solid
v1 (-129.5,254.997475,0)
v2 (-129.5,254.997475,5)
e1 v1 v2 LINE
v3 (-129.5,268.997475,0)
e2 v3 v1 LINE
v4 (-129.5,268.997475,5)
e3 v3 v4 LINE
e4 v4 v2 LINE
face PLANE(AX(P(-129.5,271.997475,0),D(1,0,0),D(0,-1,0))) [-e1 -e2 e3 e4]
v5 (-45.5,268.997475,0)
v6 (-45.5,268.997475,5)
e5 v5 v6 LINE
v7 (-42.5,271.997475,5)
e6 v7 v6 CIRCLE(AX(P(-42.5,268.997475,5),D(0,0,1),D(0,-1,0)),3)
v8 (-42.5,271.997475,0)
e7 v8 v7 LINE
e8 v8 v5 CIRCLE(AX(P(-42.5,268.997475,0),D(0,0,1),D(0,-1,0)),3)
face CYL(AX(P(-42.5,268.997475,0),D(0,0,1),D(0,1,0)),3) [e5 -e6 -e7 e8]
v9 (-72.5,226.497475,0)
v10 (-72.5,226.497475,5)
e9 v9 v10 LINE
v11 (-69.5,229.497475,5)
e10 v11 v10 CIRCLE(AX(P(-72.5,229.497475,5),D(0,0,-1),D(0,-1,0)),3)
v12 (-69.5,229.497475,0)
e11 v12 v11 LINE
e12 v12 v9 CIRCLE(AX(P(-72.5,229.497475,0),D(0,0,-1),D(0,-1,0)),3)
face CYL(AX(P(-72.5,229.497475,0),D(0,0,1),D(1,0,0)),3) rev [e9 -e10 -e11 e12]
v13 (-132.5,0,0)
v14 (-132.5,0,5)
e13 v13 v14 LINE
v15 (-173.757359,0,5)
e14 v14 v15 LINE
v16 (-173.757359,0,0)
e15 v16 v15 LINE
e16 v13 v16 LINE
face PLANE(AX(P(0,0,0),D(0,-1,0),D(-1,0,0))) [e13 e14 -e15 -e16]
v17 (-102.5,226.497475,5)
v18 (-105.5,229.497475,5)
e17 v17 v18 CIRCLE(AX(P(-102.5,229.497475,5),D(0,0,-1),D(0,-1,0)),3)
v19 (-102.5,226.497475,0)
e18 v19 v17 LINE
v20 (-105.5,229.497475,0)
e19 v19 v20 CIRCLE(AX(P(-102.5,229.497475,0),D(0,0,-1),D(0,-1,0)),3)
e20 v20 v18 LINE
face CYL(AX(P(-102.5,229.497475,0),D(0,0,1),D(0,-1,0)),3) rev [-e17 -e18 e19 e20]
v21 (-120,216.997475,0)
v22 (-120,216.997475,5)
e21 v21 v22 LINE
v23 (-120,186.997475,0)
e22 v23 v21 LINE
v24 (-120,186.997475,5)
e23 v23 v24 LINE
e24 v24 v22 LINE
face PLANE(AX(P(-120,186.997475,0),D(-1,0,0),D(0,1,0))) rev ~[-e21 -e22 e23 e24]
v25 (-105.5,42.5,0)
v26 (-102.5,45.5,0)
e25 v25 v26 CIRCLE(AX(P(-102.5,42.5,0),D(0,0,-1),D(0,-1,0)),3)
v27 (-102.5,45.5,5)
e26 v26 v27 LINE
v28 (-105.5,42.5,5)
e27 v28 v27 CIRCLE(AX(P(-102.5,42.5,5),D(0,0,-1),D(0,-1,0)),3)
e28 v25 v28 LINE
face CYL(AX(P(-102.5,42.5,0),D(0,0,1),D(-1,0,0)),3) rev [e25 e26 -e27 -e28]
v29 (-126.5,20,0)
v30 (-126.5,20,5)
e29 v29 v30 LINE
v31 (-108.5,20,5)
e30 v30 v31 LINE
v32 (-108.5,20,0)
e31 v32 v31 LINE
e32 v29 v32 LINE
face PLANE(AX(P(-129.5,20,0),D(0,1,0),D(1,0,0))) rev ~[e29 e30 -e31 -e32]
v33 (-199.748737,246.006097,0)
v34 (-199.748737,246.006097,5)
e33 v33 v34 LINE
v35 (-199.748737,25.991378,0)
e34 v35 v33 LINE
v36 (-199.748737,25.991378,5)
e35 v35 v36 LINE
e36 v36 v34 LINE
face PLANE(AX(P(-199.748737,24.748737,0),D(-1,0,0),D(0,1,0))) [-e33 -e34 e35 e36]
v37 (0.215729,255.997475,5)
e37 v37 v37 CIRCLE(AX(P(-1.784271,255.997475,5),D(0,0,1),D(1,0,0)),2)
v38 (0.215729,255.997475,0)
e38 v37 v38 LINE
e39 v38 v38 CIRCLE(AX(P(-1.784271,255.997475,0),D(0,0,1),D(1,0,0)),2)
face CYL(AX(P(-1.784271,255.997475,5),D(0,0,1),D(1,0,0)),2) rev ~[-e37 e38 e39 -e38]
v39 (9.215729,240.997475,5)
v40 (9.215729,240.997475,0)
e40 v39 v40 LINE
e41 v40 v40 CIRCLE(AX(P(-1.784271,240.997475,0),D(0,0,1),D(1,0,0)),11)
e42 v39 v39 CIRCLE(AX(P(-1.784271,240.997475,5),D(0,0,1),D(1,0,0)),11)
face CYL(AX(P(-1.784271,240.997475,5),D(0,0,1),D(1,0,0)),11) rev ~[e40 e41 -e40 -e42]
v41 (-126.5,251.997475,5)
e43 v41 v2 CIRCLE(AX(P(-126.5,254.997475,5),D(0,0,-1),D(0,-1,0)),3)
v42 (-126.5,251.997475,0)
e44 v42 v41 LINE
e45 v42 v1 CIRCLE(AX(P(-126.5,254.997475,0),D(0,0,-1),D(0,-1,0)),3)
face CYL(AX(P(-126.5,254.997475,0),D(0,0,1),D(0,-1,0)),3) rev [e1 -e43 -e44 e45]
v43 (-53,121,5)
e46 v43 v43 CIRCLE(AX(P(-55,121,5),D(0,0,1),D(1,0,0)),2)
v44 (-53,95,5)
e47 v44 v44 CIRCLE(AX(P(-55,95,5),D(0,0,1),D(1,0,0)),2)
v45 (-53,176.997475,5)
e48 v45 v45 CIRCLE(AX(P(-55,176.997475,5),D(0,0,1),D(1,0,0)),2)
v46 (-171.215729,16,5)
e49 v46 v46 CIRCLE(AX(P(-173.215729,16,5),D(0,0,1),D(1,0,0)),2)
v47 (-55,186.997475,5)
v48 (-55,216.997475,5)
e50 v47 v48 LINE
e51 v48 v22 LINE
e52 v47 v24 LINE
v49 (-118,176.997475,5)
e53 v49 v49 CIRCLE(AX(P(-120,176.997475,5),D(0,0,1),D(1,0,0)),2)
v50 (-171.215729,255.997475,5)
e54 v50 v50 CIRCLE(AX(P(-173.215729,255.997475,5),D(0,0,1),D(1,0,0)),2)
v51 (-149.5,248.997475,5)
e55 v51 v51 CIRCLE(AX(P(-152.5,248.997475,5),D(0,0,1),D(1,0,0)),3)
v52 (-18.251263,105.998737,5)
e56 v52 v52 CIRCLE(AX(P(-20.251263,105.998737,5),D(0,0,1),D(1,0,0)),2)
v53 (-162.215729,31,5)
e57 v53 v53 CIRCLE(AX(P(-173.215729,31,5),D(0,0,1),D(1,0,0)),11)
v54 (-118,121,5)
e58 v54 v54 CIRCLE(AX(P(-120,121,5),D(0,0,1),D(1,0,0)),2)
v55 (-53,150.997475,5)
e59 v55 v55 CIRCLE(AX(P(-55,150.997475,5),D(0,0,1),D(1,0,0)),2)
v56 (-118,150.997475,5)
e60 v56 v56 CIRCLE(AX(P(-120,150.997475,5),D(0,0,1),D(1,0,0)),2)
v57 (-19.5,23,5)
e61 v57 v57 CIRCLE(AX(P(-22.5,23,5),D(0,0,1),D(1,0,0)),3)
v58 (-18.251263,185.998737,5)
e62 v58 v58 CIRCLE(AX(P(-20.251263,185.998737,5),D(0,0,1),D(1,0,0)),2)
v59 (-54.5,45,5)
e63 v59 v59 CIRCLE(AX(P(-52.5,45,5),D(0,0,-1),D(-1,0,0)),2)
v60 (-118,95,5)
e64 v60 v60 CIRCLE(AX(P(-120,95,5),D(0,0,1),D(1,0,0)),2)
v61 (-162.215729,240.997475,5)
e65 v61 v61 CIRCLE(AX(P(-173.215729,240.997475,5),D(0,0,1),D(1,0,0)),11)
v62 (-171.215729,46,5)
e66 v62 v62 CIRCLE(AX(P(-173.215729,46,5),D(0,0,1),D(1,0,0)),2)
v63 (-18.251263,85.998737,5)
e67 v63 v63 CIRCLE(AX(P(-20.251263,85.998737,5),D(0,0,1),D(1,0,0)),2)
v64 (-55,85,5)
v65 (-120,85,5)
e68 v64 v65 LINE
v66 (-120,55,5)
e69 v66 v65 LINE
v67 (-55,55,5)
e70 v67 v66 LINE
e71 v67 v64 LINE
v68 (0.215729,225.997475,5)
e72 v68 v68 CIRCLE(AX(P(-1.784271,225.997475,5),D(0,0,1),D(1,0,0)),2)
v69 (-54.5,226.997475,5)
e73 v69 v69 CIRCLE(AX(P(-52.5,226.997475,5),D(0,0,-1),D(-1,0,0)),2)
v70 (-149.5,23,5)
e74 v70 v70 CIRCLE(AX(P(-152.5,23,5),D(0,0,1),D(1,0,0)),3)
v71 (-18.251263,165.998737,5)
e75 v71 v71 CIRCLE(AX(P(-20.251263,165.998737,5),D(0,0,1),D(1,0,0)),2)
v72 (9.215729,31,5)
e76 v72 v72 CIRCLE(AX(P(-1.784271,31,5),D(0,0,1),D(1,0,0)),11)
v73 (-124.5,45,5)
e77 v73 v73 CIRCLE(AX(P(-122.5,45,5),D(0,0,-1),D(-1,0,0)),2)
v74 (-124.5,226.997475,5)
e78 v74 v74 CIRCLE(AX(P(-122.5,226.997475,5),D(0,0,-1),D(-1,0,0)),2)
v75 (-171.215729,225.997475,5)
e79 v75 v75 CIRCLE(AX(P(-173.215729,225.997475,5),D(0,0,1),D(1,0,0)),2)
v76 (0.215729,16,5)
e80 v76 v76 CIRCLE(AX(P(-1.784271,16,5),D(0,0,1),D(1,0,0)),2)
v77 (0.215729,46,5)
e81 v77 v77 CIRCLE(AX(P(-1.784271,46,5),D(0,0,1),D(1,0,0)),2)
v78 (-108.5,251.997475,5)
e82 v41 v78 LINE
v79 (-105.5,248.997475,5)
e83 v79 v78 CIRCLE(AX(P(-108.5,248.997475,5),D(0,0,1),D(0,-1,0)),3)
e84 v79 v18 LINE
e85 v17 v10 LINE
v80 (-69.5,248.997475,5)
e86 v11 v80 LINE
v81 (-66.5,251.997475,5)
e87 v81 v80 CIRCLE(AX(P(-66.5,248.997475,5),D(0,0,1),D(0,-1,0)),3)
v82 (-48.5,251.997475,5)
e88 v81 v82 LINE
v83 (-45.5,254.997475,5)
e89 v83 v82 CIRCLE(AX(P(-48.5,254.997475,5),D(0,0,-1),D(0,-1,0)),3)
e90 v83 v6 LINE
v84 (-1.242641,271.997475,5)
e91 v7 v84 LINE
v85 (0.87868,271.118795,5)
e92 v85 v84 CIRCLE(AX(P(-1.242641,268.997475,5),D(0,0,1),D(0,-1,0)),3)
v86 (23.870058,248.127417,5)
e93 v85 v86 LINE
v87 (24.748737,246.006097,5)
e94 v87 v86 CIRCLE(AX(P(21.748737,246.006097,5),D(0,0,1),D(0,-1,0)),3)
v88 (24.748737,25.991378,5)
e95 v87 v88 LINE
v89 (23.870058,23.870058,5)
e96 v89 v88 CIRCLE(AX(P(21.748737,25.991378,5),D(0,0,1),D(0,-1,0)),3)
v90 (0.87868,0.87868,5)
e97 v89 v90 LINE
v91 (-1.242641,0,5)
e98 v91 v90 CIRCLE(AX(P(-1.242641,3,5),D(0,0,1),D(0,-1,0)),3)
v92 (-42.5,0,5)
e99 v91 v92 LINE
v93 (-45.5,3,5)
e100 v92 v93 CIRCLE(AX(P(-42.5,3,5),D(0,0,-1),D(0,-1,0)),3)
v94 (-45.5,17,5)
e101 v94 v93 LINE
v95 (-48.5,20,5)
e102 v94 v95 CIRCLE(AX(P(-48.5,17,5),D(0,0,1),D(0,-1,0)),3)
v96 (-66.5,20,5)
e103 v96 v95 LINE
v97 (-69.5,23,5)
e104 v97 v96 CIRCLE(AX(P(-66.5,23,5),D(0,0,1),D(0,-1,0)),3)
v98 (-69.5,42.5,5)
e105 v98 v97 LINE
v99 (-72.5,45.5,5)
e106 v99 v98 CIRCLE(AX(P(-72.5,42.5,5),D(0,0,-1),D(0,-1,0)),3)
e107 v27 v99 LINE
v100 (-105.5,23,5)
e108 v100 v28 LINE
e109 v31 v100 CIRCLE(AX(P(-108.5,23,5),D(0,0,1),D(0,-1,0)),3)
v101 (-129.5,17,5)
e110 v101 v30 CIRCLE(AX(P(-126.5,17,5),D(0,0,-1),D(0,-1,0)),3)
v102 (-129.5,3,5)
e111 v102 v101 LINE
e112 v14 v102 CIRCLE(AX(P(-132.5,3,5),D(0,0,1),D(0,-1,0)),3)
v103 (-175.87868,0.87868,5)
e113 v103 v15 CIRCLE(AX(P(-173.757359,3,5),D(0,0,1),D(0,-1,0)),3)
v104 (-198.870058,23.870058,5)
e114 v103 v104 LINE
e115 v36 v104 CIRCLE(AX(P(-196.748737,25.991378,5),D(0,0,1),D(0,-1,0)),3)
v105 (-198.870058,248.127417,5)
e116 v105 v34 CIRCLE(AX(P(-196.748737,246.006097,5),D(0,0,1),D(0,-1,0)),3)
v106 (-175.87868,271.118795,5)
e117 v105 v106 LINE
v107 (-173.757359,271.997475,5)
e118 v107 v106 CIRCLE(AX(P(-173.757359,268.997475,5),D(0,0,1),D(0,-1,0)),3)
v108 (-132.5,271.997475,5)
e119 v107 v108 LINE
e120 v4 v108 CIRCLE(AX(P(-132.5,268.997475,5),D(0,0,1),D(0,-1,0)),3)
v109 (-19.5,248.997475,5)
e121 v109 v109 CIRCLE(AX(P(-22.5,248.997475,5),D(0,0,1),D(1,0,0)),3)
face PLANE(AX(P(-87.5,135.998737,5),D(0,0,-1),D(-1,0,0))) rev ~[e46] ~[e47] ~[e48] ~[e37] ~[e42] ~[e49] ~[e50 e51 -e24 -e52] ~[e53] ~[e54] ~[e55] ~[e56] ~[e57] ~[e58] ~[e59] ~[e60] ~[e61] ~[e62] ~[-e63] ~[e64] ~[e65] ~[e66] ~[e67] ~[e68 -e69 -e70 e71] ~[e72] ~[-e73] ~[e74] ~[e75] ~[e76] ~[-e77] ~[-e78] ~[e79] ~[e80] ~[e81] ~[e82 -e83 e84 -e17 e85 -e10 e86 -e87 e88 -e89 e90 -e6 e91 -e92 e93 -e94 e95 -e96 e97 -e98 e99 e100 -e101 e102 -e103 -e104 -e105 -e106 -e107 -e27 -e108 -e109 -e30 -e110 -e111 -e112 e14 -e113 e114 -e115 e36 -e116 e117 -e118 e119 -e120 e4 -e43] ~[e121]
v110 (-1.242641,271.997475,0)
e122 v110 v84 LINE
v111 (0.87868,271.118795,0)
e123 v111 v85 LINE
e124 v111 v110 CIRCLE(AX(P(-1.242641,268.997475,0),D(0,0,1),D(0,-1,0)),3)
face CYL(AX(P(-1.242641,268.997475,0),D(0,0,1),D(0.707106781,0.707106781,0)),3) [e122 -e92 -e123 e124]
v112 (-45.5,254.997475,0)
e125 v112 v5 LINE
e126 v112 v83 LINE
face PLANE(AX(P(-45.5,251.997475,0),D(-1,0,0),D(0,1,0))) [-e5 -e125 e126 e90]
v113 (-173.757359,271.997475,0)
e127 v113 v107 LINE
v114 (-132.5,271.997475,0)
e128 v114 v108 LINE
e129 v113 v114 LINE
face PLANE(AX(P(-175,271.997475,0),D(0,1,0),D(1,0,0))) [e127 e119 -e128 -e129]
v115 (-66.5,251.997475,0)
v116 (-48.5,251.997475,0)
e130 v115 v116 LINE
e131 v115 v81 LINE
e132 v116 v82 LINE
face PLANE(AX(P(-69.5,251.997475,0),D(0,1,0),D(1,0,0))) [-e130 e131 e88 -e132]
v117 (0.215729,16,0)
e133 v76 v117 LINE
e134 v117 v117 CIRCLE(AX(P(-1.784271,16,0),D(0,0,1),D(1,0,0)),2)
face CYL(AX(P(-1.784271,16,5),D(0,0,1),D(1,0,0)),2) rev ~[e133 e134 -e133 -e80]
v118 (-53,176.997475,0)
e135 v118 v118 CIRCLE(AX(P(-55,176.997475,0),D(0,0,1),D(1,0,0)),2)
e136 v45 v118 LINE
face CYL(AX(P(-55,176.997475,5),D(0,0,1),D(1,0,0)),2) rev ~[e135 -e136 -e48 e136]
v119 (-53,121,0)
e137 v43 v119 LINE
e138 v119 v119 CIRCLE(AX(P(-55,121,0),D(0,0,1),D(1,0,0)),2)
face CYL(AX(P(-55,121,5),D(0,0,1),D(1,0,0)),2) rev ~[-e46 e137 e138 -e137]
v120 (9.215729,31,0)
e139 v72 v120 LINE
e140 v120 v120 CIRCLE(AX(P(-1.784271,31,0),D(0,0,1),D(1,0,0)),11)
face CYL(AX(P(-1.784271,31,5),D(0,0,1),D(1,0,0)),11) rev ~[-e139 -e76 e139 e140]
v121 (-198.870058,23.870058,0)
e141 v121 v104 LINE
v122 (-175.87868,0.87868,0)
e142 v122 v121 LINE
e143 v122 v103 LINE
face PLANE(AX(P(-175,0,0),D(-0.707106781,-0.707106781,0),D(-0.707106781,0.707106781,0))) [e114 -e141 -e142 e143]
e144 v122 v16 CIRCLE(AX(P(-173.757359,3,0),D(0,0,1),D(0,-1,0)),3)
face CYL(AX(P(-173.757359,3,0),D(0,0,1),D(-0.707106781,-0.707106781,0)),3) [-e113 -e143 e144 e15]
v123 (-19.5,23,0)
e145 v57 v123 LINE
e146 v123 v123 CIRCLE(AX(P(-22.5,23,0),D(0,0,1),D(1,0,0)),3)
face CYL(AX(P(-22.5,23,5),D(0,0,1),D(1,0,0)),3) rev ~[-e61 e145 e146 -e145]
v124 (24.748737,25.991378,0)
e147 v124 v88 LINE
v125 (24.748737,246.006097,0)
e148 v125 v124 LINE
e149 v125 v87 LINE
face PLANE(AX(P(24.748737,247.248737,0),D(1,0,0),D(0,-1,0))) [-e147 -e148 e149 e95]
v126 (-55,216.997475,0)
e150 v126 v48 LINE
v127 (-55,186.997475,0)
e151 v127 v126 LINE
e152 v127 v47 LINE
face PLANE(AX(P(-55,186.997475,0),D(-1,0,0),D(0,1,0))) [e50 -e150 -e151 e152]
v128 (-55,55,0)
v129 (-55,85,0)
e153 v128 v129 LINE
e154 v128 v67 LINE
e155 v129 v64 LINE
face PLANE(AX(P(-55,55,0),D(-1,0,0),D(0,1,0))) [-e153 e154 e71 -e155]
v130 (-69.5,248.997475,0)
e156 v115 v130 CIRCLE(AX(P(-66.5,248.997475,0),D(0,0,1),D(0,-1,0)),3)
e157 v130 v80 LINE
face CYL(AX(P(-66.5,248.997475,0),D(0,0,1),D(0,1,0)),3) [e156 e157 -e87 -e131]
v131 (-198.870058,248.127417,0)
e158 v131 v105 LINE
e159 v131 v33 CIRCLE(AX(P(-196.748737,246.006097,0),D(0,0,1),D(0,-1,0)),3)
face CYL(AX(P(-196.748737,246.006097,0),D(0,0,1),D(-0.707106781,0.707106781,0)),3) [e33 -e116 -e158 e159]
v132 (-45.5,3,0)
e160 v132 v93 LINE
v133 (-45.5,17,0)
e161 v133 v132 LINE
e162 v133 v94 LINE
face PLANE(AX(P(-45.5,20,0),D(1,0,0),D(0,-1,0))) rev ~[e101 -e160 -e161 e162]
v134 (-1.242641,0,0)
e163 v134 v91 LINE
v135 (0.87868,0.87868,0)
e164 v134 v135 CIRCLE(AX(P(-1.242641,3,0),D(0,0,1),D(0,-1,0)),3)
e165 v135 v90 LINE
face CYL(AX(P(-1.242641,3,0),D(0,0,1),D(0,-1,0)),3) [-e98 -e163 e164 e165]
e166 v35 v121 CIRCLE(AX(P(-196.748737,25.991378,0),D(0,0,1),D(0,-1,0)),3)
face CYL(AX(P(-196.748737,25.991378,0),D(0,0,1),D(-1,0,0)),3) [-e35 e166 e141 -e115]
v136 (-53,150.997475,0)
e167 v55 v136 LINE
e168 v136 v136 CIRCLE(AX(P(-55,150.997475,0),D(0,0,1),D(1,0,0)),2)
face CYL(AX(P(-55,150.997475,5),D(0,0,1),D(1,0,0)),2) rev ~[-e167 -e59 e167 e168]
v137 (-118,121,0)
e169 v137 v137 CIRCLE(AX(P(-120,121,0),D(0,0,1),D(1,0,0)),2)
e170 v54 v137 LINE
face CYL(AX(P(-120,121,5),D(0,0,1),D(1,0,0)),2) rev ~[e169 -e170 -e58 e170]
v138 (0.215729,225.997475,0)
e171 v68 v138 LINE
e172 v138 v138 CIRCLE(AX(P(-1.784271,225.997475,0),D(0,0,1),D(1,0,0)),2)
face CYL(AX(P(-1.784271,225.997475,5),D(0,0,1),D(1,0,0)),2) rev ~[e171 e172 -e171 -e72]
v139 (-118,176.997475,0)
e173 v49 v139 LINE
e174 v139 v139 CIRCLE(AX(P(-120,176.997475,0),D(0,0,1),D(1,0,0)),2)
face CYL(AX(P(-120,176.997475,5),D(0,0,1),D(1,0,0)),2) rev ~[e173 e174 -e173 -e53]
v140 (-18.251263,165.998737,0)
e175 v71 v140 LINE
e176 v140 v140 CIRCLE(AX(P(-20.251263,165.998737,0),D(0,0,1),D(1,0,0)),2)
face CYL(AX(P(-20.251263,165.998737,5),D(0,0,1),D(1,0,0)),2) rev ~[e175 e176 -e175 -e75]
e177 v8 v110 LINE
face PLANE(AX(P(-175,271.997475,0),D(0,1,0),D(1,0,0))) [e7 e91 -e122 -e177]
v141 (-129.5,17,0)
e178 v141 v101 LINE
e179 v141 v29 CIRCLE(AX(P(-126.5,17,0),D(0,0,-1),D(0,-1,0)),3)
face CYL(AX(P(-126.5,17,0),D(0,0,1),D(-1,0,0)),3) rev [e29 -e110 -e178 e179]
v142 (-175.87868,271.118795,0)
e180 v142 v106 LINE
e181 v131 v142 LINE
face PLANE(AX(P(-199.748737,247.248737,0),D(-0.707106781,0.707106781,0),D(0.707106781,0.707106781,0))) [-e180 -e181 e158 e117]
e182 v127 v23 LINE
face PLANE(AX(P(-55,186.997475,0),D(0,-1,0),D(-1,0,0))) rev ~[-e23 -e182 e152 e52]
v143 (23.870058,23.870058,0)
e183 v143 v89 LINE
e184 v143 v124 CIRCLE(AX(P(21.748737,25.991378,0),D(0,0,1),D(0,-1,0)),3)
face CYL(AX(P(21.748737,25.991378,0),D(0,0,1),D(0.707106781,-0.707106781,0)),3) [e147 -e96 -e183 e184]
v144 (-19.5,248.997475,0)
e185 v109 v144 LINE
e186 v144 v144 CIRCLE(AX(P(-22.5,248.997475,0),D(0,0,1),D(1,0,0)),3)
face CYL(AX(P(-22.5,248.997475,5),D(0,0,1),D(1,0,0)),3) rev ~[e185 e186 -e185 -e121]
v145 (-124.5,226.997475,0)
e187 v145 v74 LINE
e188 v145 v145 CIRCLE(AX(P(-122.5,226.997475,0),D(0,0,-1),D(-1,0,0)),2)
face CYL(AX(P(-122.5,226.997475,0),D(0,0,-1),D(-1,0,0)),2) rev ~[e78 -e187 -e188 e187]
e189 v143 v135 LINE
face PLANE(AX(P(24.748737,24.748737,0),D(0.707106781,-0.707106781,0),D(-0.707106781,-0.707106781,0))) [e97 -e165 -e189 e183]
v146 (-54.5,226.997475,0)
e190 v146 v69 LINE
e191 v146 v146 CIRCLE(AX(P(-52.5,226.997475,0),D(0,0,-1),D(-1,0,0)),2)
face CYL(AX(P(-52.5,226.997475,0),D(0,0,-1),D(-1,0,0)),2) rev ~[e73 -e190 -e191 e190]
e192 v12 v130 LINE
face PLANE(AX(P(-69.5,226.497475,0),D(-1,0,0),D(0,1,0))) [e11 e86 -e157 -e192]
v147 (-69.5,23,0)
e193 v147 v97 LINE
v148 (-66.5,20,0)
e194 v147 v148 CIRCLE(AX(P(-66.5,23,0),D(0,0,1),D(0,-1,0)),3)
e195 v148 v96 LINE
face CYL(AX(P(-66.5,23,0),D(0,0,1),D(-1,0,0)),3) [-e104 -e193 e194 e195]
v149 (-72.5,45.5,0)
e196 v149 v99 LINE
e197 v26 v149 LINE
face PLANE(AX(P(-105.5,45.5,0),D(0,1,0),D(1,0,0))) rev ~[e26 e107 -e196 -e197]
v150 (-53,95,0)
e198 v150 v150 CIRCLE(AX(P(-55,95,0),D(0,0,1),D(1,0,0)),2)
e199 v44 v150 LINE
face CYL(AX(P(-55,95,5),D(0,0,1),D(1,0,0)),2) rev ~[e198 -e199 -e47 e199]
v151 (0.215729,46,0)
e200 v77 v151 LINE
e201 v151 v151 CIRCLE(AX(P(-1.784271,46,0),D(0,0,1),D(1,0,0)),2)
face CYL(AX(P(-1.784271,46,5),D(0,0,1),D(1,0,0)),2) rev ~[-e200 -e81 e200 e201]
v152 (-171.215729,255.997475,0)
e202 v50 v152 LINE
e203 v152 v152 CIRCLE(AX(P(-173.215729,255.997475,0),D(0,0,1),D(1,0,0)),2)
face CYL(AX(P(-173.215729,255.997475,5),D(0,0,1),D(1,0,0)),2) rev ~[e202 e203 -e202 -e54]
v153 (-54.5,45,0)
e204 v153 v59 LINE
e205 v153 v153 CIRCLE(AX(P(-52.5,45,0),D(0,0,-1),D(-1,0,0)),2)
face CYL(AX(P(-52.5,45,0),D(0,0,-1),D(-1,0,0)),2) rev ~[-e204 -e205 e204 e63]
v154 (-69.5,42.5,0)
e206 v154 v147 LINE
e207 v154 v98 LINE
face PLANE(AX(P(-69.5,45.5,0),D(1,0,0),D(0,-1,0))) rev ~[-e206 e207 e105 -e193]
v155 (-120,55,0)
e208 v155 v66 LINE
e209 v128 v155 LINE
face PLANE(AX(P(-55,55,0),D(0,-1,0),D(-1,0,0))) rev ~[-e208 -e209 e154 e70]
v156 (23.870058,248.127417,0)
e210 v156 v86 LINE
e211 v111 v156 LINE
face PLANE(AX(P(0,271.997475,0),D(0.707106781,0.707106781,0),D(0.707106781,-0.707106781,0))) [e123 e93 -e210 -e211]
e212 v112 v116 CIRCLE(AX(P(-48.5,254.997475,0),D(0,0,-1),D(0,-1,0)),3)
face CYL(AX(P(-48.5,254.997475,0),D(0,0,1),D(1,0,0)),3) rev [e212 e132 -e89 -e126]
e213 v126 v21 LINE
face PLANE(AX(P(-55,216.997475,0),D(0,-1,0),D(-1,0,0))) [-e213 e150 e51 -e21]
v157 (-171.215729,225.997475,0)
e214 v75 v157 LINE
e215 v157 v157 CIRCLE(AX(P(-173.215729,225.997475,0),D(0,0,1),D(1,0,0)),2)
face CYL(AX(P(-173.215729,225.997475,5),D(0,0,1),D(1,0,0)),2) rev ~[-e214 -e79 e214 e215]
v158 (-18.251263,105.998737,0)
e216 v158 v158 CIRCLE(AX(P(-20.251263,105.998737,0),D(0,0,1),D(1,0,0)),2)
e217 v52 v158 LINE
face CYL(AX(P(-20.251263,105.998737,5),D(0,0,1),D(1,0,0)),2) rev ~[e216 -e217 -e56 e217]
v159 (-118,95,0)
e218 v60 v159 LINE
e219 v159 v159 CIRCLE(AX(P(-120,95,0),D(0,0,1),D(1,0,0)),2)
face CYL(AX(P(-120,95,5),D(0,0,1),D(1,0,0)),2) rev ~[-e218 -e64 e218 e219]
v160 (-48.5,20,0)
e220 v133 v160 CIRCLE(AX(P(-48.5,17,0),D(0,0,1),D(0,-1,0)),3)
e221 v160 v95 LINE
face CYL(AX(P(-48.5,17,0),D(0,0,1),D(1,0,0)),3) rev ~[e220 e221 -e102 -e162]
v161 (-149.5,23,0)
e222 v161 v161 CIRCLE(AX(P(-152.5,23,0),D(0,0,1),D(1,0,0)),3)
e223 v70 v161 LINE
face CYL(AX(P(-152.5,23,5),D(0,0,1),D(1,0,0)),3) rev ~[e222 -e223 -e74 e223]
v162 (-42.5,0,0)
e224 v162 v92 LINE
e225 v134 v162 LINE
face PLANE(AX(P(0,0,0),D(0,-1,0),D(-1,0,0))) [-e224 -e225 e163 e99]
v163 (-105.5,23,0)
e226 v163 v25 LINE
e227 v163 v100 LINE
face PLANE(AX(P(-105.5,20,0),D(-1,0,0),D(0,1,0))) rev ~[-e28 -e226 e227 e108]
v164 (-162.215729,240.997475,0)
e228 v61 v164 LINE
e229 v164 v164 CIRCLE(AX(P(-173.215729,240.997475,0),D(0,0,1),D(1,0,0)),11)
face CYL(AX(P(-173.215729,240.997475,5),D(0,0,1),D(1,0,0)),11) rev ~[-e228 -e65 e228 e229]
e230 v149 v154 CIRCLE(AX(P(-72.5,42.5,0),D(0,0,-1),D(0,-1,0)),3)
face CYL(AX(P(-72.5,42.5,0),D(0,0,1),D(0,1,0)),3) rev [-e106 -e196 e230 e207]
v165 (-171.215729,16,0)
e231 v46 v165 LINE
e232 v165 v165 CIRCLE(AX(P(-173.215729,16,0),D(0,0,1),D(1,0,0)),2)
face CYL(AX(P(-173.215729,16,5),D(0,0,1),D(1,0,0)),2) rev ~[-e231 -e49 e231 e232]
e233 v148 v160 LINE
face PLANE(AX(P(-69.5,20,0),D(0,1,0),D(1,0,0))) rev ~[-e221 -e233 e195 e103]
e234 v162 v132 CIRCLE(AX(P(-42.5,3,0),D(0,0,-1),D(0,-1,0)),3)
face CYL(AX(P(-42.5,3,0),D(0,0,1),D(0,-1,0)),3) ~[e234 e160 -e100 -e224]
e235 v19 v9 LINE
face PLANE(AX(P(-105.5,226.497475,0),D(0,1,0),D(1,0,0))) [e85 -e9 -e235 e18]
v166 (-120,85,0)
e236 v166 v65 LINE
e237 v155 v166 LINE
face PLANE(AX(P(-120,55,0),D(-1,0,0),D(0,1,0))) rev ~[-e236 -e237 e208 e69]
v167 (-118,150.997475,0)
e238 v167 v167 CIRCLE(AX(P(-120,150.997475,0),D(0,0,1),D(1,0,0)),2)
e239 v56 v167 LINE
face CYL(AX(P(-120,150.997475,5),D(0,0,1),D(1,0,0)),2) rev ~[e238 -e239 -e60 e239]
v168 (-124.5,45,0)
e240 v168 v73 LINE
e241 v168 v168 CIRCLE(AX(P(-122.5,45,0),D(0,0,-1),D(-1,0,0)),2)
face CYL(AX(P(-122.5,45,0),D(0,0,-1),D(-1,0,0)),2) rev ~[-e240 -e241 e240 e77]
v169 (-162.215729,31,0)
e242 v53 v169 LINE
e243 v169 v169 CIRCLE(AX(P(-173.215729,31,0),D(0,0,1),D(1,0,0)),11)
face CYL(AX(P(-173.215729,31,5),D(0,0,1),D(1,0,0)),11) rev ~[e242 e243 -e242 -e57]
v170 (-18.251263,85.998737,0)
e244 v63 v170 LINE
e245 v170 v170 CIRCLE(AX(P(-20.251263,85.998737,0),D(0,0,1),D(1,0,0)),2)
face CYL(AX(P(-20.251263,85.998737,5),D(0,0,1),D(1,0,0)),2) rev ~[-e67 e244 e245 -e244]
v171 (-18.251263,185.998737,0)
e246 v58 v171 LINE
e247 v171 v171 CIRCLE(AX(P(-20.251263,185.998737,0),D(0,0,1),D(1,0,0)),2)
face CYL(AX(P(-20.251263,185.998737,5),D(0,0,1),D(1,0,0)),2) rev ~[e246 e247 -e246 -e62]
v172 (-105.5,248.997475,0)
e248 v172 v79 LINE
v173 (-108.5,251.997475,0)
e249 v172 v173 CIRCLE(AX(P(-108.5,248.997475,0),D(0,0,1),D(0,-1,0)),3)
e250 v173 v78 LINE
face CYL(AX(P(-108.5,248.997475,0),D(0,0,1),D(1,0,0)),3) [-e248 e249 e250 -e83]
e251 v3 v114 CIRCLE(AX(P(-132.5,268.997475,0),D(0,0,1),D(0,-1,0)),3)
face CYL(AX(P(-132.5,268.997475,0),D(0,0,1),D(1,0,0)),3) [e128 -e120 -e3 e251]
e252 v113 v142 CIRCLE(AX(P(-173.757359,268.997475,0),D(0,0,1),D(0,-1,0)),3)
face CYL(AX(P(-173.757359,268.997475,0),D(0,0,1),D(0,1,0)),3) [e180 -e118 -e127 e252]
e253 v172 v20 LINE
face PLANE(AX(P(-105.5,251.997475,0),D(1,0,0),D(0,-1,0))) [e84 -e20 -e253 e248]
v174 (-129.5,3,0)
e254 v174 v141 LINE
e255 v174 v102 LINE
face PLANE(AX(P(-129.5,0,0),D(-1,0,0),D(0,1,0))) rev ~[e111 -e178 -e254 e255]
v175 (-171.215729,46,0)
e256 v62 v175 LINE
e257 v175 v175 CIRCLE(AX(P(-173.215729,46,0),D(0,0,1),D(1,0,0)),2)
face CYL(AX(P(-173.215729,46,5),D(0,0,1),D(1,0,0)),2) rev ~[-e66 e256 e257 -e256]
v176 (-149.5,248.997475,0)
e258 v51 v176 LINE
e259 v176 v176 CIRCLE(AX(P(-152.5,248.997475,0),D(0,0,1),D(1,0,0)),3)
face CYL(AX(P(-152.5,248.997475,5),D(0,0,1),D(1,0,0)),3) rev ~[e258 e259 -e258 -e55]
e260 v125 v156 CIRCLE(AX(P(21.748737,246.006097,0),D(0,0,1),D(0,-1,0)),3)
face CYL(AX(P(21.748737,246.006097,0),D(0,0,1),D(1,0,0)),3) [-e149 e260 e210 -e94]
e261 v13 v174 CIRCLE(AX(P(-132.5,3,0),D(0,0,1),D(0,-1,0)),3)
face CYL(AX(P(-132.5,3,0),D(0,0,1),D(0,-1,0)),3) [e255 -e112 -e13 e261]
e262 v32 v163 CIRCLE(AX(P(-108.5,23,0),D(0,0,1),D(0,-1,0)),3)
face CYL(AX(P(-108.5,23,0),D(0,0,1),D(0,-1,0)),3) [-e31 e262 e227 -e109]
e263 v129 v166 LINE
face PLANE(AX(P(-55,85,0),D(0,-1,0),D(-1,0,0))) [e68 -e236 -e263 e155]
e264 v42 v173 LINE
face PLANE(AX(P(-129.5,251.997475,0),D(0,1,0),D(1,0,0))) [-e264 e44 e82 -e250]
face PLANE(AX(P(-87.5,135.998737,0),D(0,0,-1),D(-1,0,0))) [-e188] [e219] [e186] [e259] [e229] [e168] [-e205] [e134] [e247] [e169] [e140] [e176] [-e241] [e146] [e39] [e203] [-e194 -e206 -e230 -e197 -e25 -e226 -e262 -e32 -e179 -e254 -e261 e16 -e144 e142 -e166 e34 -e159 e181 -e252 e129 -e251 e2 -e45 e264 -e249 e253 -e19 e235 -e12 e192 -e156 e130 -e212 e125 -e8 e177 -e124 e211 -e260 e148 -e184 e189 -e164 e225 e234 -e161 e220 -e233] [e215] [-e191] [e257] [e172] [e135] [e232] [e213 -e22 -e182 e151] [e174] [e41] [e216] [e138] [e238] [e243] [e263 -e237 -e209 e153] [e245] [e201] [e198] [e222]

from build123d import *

# Parameters (mm, degrees)
BASE_DEPTH                = 5
ESQUISSE3_R               = 2
ESQUISSE3_W               = 65
ESQUISSE3_H               = 30
ENL_V_MAT_EXTRU_1_DEPTH   = 6
CONG_1_R                  = 3
PER_AGE_POUR_BILLES_REACH = 7
ESQUISSE6_R               = 2
ESQUISSE6_R_2             = 11
PER_AGE_POUR_PROFIL_REACH = 7
ESQUISSE8_R               = 3
ESQUISSE13_R              = 2
ENL_V_MAT_EXTRU_4_DEPTH   = 10
ESQUISSE14_R              = 2
ENL_V_MAT_EXTRU_5_DEPTH   = 10


with BuildPart() as part:
    # Esquisse1 → Base (new body)
    with BuildSketch(Plane.XY):
        Polygon((0, 0), (-175, 0), (-199.748737342, 24.748737342), (-199.748737342, 247.248737342), (-175, 271.997474683), (0, 271.997474683), (24.748737342, 247.248737342), (24.748737342, 24.748737342), align=None)
    extrude(amount=BASE_DEPTH)

    # Esquisse3 → Enlèv. mat.-Extru.1 (cut, through all)
    with BuildSketch(Plane(origin=(0, 0, 0), x_dir=(-1, 0, 0), z_dir=(0, 0, -1))):
        with Locations((52.5, 45)):
            Circle(ESQUISSE3_R)
        with Locations((122.5, 45)):
            Circle(ESQUISSE3_R)
        with Locations((122.5, 226.997474683)):
            Circle(ESQUISSE3_R)
        with Locations((52.5, 226.997474683)):
            Circle(ESQUISSE3_R)
        Polygon((129.5, 0), (129.5, 20), (105.5, 20), (105.5, 45.5), (69.5, 45.5), (69.5, 20), (45.5, 20), (45.5, 0), align=None)
        Polygon((45.5, 271.997474683), (129.5, 271.997474683), (129.5, 251.997474683), (105.5, 251.997474683), (105.5, 226.497474683), (69.5, 226.497474683), (69.5, 251.997474683), (45.5, 251.997474683), align=None)
        with Locations((87.5, 201.997474683)):
            Rectangle(ESQUISSE3_W, ESQUISSE3_H)
        with Locations((87.5, 70)):
            Rectangle(ESQUISSE3_W, ESQUISSE3_H)
    extrude(amount=-ENL_V_MAT_EXTRU_1_DEPTH, mode=Mode.SUBTRACT)

    # Congé1
    cong_1_edges = [part.edges().sort_by_distance(p)[0] for p in [
        (0, 0, 2.5),
        (-175, 0, 2.5),
        (-199.748737342, 24.748737342, 2.5),
        (-199.748737342, 247.248737342, 2.5),
        (-175, 271.997474683, 2.5),
        (0, 271.997474683, 2.5),
        (24.748737342, 247.248737342, 2.5),
        (24.748737342, 24.748737342, 2.5),
        (-45.5, 251.997474683, 2.5),
        (-45.5, 271.997474683, 2.5),
        (-129.5, 271.997474683, 2.5),
        (-129.5, 251.997474683, 2.5),
        (-105.5, 251.997474683, 2.5),
        (-105.5, 226.497474683, 2.5),
        (-69.5, 226.497474683, 2.5),
        (-69.5, 251.997474683, 2.5),
        (-129.5, 0, 2.5),
        (-45.5, 0, 2.5),
        (-45.5, 20, 2.5),
        (-69.5, 20, 2.5),
        (-69.5, 45.5, 2.5),
        (-105.5, 45.5, 2.5),
        (-105.5, 20, 2.5),
        (-129.5, 20, 2.5),
    ]]
    fillet(cong_1_edges, radius=CONG_1_R)

    # Esquisse6 → Perçage pour billes (cut, up to next)
    with BuildSketch(Plane.XY.offset(5), mode=Mode.PRIVATE) as per_age_pour_billes_sk1:
        with Locations((-1.784271247, 16)):
            Circle(ESQUISSE6_R)
    per_age_pour_billes_tool1 = extrude(per_age_pour_billes_sk1.sketch, amount=-PER_AGE_POUR_BILLES_REACH, mode=Mode.PRIVATE) & part.part
    add(per_age_pour_billes_tool1.solids().sort_by_distance((-1.784271, 16, 5))[0], mode=Mode.SUBTRACT)
    # Esquisse6 → Perçage pour billes (cut, up to next)
    with BuildSketch(Plane.XY.offset(5), mode=Mode.PRIVATE) as per_age_pour_billes_sk2:
        with Locations((-1.784271247, 46)):
            Circle(ESQUISSE6_R)
    per_age_pour_billes_tool2 = extrude(per_age_pour_billes_sk2.sketch, amount=-PER_AGE_POUR_BILLES_REACH, mode=Mode.PRIVATE) & part.part
    add(per_age_pour_billes_tool2.solids().sort_by_distance((-1.784271, 46, 5))[0], mode=Mode.SUBTRACT)
    # Esquisse6 → Perçage pour billes (cut, up to next)
    with BuildSketch(Plane.XY.offset(5), mode=Mode.PRIVATE) as per_age_pour_billes_sk3:
        with Locations((-1.784271247, 225.997474683)):
            Circle(ESQUISSE6_R)
    per_age_pour_billes_tool3 = extrude(per_age_pour_billes_sk3.sketch, amount=-PER_AGE_POUR_BILLES_REACH, mode=Mode.PRIVATE) & part.part
    add(per_age_pour_billes_tool3.solids().sort_by_distance((-1.784271, 225.997475, 5))[0], mode=Mode.SUBTRACT)
    # Esquisse6 → Perçage pour billes (cut, up to next)
    with BuildSketch(Plane.XY.offset(5), mode=Mode.PRIVATE) as per_age_pour_billes_sk4:
        with Locations((-1.784271247, 255.997474683)):
            Circle(ESQUISSE6_R)
    per_age_pour_billes_tool4 = extrude(per_age_pour_billes_sk4.sketch, amount=-PER_AGE_POUR_BILLES_REACH, mode=Mode.PRIVATE) & part.part
    add(per_age_pour_billes_tool4.solids().sort_by_distance((-1.784271, 255.997475, 5))[0], mode=Mode.SUBTRACT)
    # Esquisse6 → Perçage pour billes (cut, up to next)
    with BuildSketch(Plane.XY.offset(5), mode=Mode.PRIVATE) as per_age_pour_billes_sk5:
        with Locations((-1.784271247, 240.997474683)):
            Circle(ESQUISSE6_R_2)
    per_age_pour_billes_tool5 = extrude(per_age_pour_billes_sk5.sketch, amount=-PER_AGE_POUR_BILLES_REACH, mode=Mode.PRIVATE) & part.part
    add(per_age_pour_billes_tool5.solids().sort_by_distance((-1.784271, 240.997475, 5))[0], mode=Mode.SUBTRACT)
    # Esquisse6 → Perçage pour billes (cut, up to next)
    with BuildSketch(Plane.XY.offset(5), mode=Mode.PRIVATE) as per_age_pour_billes_sk6:
        with Locations((-1.784271247, 31)):
            Circle(ESQUISSE6_R_2)
    per_age_pour_billes_tool6 = extrude(per_age_pour_billes_sk6.sketch, amount=-PER_AGE_POUR_BILLES_REACH, mode=Mode.PRIVATE) & part.part
    add(per_age_pour_billes_tool6.solids().sort_by_distance((-1.784271, 31, 5))[0], mode=Mode.SUBTRACT)
    # Esquisse6 → Perçage pour billes (cut, up to next)
    with BuildSketch(Plane.XY.offset(5), mode=Mode.PRIVATE) as per_age_pour_billes_sk7:
        with Locations((-173.215728753, 16)):
            Circle(ESQUISSE6_R)
    per_age_pour_billes_tool7 = extrude(per_age_pour_billes_sk7.sketch, amount=-PER_AGE_POUR_BILLES_REACH, mode=Mode.PRIVATE) & part.part
    add(per_age_pour_billes_tool7.solids().sort_by_distance((-173.215729, 16, 5))[0], mode=Mode.SUBTRACT)
    # Esquisse6 → Perçage pour billes (cut, up to next)
    with BuildSketch(Plane.XY.offset(5), mode=Mode.PRIVATE) as per_age_pour_billes_sk8:
        with Locations((-173.215728753, 46)):
            Circle(ESQUISSE6_R)
    per_age_pour_billes_tool8 = extrude(per_age_pour_billes_sk8.sketch, amount=-PER_AGE_POUR_BILLES_REACH, mode=Mode.PRIVATE) & part.part
    add(per_age_pour_billes_tool8.solids().sort_by_distance((-173.215729, 46, 5))[0], mode=Mode.SUBTRACT)
    # Esquisse6 → Perçage pour billes (cut, up to next)
    with BuildSketch(Plane.XY.offset(5), mode=Mode.PRIVATE) as per_age_pour_billes_sk9:
        with Locations((-173.215728753, 31)):
            Circle(ESQUISSE6_R_2)
    per_age_pour_billes_tool9 = extrude(per_age_pour_billes_sk9.sketch, amount=-PER_AGE_POUR_BILLES_REACH, mode=Mode.PRIVATE) & part.part
    add(per_age_pour_billes_tool9.solids().sort_by_distance((-173.215729, 31, 5))[0], mode=Mode.SUBTRACT)
    # Esquisse6 → Perçage pour billes (cut, up to next)
    with BuildSketch(Plane.XY.offset(5), mode=Mode.PRIVATE) as per_age_pour_billes_sk10:
        with Locations((-173.215728753, 225.997474683)):
            Circle(ESQUISSE6_R)
    per_age_pour_billes_tool10 = extrude(per_age_pour_billes_sk10.sketch, amount=-PER_AGE_POUR_BILLES_REACH, mode=Mode.PRIVATE) & part.part
    add(per_age_pour_billes_tool10.solids().sort_by_distance((-173.215729, 225.997475, 5))[0], mode=Mode.SUBTRACT)
    # Esquisse6 → Perçage pour billes (cut, up to next)
    with BuildSketch(Plane.XY.offset(5), mode=Mode.PRIVATE) as per_age_pour_billes_sk11:
        with Locations((-173.215728753, 255.997474683)):
            Circle(ESQUISSE6_R)
    per_age_pour_billes_tool11 = extrude(per_age_pour_billes_sk11.sketch, amount=-PER_AGE_POUR_BILLES_REACH, mode=Mode.PRIVATE) & part.part
    add(per_age_pour_billes_tool11.solids().sort_by_distance((-173.215729, 255.997475, 5))[0], mode=Mode.SUBTRACT)
    # Esquisse6 → Perçage pour billes (cut, up to next)
    with BuildSketch(Plane.XY.offset(5), mode=Mode.PRIVATE) as per_age_pour_billes_sk12:
        with Locations((-173.215728753, 240.997474683)):
            Circle(ESQUISSE6_R_2)
    per_age_pour_billes_tool12 = extrude(per_age_pour_billes_sk12.sketch, amount=-PER_AGE_POUR_BILLES_REACH, mode=Mode.PRIVATE) & part.part
    add(per_age_pour_billes_tool12.solids().sort_by_distance((-173.215729, 240.997475, 5))[0], mode=Mode.SUBTRACT)

    # Esquisse8 → Perçage pour profilé (cut, up to next)
    with BuildSketch(Plane.XY.offset(5), mode=Mode.PRIVATE) as per_age_pour_profil_sk1:
        with Locations((-152.5, 23)):
            Circle(ESQUISSE8_R)
    per_age_pour_profil_tool1 = extrude(per_age_pour_profil_sk1.sketch, amount=-PER_AGE_POUR_PROFIL_REACH, mode=Mode.PRIVATE) & part.part
    add(per_age_pour_profil_tool1.solids().sort_by_distance((-152.5, 23, 5))[0], mode=Mode.SUBTRACT)
    # Esquisse8 → Perçage pour profilé (cut, up to next)
    with BuildSketch(Plane.XY.offset(5), mode=Mode.PRIVATE) as per_age_pour_profil_sk2:
        with Locations((-152.5, 248.997474683)):
            Circle(ESQUISSE8_R)
    per_age_pour_profil_tool2 = extrude(per_age_pour_profil_sk2.sketch, amount=-PER_AGE_POUR_PROFIL_REACH, mode=Mode.PRIVATE) & part.part
    add(per_age_pour_profil_tool2.solids().sort_by_distance((-152.5, 248.997475, 5))[0], mode=Mode.SUBTRACT)
    # Esquisse8 → Perçage pour profilé (cut, up to next)
    with BuildSketch(Plane.XY.offset(5), mode=Mode.PRIVATE) as per_age_pour_profil_sk3:
        with Locations((-22.5, 248.997474683)):
            Circle(ESQUISSE8_R)
    per_age_pour_profil_tool3 = extrude(per_age_pour_profil_sk3.sketch, amount=-PER_AGE_POUR_PROFIL_REACH, mode=Mode.PRIVATE) & part.part
    add(per_age_pour_profil_tool3.solids().sort_by_distance((-22.5, 248.997475, 5))[0], mode=Mode.SUBTRACT)
    # Esquisse8 → Perçage pour profilé (cut, up to next)
    with BuildSketch(Plane.XY.offset(5), mode=Mode.PRIVATE) as per_age_pour_profil_sk4:
        with Locations((-22.5, 23)):
            Circle(ESQUISSE8_R)
    per_age_pour_profil_tool4 = extrude(per_age_pour_profil_sk4.sketch, amount=-PER_AGE_POUR_PROFIL_REACH, mode=Mode.PRIVATE) & part.part
    add(per_age_pour_profil_tool4.solids().sort_by_distance((-22.5, 23, 5))[0], mode=Mode.SUBTRACT)

    # Esquisse13 → Enlèv. mat.-Extru.4 (cut)
    with BuildSketch(Plane.XY.offset(5)):
        with Locations((-20.251262658, 185.998737342)):
            Circle(ESQUISSE13_R)
        with Locations((-20.251262658, 165.998737342)):
            Circle(ESQUISSE13_R)
        with Locations((-20.251262658, 105.998737342)):
            Circle(ESQUISSE13_R)
        with Locations((-20.251262658, 85.998737342)):
            Circle(ESQUISSE13_R)
    extrude(amount=-ENL_V_MAT_EXTRU_4_DEPTH, mode=Mode.SUBTRACT)

    # Esquisse14 → Enlèv. mat.-Extru.5 (cut)
    with BuildSketch(Plane.XY.offset(5)):
        with Locations((-120, 176.997474683)):
            Circle(ESQUISSE14_R)
        with Locations((-55, 176.997474683)):
            Circle(ESQUISSE14_R)
        with Locations((-120, 150.997474683)):
            Circle(ESQUISSE14_R)
        with Locations((-55, 150.997474683)):
            Circle(ESQUISSE14_R)
        with Locations((-120, 121)):
            Circle(ESQUISSE14_R)
        with Locations((-55, 121)):
            Circle(ESQUISSE14_R)
        with Locations((-55, 95)):
            Circle(ESQUISSE14_R)
        with Locations((-120, 95)):
            Circle(ESQUISSE14_R)
    extrude(amount=-ENL_V_MAT_EXTRU_5_DEPTH, mode=Mode.SUBTRACT)


solid = part.part
